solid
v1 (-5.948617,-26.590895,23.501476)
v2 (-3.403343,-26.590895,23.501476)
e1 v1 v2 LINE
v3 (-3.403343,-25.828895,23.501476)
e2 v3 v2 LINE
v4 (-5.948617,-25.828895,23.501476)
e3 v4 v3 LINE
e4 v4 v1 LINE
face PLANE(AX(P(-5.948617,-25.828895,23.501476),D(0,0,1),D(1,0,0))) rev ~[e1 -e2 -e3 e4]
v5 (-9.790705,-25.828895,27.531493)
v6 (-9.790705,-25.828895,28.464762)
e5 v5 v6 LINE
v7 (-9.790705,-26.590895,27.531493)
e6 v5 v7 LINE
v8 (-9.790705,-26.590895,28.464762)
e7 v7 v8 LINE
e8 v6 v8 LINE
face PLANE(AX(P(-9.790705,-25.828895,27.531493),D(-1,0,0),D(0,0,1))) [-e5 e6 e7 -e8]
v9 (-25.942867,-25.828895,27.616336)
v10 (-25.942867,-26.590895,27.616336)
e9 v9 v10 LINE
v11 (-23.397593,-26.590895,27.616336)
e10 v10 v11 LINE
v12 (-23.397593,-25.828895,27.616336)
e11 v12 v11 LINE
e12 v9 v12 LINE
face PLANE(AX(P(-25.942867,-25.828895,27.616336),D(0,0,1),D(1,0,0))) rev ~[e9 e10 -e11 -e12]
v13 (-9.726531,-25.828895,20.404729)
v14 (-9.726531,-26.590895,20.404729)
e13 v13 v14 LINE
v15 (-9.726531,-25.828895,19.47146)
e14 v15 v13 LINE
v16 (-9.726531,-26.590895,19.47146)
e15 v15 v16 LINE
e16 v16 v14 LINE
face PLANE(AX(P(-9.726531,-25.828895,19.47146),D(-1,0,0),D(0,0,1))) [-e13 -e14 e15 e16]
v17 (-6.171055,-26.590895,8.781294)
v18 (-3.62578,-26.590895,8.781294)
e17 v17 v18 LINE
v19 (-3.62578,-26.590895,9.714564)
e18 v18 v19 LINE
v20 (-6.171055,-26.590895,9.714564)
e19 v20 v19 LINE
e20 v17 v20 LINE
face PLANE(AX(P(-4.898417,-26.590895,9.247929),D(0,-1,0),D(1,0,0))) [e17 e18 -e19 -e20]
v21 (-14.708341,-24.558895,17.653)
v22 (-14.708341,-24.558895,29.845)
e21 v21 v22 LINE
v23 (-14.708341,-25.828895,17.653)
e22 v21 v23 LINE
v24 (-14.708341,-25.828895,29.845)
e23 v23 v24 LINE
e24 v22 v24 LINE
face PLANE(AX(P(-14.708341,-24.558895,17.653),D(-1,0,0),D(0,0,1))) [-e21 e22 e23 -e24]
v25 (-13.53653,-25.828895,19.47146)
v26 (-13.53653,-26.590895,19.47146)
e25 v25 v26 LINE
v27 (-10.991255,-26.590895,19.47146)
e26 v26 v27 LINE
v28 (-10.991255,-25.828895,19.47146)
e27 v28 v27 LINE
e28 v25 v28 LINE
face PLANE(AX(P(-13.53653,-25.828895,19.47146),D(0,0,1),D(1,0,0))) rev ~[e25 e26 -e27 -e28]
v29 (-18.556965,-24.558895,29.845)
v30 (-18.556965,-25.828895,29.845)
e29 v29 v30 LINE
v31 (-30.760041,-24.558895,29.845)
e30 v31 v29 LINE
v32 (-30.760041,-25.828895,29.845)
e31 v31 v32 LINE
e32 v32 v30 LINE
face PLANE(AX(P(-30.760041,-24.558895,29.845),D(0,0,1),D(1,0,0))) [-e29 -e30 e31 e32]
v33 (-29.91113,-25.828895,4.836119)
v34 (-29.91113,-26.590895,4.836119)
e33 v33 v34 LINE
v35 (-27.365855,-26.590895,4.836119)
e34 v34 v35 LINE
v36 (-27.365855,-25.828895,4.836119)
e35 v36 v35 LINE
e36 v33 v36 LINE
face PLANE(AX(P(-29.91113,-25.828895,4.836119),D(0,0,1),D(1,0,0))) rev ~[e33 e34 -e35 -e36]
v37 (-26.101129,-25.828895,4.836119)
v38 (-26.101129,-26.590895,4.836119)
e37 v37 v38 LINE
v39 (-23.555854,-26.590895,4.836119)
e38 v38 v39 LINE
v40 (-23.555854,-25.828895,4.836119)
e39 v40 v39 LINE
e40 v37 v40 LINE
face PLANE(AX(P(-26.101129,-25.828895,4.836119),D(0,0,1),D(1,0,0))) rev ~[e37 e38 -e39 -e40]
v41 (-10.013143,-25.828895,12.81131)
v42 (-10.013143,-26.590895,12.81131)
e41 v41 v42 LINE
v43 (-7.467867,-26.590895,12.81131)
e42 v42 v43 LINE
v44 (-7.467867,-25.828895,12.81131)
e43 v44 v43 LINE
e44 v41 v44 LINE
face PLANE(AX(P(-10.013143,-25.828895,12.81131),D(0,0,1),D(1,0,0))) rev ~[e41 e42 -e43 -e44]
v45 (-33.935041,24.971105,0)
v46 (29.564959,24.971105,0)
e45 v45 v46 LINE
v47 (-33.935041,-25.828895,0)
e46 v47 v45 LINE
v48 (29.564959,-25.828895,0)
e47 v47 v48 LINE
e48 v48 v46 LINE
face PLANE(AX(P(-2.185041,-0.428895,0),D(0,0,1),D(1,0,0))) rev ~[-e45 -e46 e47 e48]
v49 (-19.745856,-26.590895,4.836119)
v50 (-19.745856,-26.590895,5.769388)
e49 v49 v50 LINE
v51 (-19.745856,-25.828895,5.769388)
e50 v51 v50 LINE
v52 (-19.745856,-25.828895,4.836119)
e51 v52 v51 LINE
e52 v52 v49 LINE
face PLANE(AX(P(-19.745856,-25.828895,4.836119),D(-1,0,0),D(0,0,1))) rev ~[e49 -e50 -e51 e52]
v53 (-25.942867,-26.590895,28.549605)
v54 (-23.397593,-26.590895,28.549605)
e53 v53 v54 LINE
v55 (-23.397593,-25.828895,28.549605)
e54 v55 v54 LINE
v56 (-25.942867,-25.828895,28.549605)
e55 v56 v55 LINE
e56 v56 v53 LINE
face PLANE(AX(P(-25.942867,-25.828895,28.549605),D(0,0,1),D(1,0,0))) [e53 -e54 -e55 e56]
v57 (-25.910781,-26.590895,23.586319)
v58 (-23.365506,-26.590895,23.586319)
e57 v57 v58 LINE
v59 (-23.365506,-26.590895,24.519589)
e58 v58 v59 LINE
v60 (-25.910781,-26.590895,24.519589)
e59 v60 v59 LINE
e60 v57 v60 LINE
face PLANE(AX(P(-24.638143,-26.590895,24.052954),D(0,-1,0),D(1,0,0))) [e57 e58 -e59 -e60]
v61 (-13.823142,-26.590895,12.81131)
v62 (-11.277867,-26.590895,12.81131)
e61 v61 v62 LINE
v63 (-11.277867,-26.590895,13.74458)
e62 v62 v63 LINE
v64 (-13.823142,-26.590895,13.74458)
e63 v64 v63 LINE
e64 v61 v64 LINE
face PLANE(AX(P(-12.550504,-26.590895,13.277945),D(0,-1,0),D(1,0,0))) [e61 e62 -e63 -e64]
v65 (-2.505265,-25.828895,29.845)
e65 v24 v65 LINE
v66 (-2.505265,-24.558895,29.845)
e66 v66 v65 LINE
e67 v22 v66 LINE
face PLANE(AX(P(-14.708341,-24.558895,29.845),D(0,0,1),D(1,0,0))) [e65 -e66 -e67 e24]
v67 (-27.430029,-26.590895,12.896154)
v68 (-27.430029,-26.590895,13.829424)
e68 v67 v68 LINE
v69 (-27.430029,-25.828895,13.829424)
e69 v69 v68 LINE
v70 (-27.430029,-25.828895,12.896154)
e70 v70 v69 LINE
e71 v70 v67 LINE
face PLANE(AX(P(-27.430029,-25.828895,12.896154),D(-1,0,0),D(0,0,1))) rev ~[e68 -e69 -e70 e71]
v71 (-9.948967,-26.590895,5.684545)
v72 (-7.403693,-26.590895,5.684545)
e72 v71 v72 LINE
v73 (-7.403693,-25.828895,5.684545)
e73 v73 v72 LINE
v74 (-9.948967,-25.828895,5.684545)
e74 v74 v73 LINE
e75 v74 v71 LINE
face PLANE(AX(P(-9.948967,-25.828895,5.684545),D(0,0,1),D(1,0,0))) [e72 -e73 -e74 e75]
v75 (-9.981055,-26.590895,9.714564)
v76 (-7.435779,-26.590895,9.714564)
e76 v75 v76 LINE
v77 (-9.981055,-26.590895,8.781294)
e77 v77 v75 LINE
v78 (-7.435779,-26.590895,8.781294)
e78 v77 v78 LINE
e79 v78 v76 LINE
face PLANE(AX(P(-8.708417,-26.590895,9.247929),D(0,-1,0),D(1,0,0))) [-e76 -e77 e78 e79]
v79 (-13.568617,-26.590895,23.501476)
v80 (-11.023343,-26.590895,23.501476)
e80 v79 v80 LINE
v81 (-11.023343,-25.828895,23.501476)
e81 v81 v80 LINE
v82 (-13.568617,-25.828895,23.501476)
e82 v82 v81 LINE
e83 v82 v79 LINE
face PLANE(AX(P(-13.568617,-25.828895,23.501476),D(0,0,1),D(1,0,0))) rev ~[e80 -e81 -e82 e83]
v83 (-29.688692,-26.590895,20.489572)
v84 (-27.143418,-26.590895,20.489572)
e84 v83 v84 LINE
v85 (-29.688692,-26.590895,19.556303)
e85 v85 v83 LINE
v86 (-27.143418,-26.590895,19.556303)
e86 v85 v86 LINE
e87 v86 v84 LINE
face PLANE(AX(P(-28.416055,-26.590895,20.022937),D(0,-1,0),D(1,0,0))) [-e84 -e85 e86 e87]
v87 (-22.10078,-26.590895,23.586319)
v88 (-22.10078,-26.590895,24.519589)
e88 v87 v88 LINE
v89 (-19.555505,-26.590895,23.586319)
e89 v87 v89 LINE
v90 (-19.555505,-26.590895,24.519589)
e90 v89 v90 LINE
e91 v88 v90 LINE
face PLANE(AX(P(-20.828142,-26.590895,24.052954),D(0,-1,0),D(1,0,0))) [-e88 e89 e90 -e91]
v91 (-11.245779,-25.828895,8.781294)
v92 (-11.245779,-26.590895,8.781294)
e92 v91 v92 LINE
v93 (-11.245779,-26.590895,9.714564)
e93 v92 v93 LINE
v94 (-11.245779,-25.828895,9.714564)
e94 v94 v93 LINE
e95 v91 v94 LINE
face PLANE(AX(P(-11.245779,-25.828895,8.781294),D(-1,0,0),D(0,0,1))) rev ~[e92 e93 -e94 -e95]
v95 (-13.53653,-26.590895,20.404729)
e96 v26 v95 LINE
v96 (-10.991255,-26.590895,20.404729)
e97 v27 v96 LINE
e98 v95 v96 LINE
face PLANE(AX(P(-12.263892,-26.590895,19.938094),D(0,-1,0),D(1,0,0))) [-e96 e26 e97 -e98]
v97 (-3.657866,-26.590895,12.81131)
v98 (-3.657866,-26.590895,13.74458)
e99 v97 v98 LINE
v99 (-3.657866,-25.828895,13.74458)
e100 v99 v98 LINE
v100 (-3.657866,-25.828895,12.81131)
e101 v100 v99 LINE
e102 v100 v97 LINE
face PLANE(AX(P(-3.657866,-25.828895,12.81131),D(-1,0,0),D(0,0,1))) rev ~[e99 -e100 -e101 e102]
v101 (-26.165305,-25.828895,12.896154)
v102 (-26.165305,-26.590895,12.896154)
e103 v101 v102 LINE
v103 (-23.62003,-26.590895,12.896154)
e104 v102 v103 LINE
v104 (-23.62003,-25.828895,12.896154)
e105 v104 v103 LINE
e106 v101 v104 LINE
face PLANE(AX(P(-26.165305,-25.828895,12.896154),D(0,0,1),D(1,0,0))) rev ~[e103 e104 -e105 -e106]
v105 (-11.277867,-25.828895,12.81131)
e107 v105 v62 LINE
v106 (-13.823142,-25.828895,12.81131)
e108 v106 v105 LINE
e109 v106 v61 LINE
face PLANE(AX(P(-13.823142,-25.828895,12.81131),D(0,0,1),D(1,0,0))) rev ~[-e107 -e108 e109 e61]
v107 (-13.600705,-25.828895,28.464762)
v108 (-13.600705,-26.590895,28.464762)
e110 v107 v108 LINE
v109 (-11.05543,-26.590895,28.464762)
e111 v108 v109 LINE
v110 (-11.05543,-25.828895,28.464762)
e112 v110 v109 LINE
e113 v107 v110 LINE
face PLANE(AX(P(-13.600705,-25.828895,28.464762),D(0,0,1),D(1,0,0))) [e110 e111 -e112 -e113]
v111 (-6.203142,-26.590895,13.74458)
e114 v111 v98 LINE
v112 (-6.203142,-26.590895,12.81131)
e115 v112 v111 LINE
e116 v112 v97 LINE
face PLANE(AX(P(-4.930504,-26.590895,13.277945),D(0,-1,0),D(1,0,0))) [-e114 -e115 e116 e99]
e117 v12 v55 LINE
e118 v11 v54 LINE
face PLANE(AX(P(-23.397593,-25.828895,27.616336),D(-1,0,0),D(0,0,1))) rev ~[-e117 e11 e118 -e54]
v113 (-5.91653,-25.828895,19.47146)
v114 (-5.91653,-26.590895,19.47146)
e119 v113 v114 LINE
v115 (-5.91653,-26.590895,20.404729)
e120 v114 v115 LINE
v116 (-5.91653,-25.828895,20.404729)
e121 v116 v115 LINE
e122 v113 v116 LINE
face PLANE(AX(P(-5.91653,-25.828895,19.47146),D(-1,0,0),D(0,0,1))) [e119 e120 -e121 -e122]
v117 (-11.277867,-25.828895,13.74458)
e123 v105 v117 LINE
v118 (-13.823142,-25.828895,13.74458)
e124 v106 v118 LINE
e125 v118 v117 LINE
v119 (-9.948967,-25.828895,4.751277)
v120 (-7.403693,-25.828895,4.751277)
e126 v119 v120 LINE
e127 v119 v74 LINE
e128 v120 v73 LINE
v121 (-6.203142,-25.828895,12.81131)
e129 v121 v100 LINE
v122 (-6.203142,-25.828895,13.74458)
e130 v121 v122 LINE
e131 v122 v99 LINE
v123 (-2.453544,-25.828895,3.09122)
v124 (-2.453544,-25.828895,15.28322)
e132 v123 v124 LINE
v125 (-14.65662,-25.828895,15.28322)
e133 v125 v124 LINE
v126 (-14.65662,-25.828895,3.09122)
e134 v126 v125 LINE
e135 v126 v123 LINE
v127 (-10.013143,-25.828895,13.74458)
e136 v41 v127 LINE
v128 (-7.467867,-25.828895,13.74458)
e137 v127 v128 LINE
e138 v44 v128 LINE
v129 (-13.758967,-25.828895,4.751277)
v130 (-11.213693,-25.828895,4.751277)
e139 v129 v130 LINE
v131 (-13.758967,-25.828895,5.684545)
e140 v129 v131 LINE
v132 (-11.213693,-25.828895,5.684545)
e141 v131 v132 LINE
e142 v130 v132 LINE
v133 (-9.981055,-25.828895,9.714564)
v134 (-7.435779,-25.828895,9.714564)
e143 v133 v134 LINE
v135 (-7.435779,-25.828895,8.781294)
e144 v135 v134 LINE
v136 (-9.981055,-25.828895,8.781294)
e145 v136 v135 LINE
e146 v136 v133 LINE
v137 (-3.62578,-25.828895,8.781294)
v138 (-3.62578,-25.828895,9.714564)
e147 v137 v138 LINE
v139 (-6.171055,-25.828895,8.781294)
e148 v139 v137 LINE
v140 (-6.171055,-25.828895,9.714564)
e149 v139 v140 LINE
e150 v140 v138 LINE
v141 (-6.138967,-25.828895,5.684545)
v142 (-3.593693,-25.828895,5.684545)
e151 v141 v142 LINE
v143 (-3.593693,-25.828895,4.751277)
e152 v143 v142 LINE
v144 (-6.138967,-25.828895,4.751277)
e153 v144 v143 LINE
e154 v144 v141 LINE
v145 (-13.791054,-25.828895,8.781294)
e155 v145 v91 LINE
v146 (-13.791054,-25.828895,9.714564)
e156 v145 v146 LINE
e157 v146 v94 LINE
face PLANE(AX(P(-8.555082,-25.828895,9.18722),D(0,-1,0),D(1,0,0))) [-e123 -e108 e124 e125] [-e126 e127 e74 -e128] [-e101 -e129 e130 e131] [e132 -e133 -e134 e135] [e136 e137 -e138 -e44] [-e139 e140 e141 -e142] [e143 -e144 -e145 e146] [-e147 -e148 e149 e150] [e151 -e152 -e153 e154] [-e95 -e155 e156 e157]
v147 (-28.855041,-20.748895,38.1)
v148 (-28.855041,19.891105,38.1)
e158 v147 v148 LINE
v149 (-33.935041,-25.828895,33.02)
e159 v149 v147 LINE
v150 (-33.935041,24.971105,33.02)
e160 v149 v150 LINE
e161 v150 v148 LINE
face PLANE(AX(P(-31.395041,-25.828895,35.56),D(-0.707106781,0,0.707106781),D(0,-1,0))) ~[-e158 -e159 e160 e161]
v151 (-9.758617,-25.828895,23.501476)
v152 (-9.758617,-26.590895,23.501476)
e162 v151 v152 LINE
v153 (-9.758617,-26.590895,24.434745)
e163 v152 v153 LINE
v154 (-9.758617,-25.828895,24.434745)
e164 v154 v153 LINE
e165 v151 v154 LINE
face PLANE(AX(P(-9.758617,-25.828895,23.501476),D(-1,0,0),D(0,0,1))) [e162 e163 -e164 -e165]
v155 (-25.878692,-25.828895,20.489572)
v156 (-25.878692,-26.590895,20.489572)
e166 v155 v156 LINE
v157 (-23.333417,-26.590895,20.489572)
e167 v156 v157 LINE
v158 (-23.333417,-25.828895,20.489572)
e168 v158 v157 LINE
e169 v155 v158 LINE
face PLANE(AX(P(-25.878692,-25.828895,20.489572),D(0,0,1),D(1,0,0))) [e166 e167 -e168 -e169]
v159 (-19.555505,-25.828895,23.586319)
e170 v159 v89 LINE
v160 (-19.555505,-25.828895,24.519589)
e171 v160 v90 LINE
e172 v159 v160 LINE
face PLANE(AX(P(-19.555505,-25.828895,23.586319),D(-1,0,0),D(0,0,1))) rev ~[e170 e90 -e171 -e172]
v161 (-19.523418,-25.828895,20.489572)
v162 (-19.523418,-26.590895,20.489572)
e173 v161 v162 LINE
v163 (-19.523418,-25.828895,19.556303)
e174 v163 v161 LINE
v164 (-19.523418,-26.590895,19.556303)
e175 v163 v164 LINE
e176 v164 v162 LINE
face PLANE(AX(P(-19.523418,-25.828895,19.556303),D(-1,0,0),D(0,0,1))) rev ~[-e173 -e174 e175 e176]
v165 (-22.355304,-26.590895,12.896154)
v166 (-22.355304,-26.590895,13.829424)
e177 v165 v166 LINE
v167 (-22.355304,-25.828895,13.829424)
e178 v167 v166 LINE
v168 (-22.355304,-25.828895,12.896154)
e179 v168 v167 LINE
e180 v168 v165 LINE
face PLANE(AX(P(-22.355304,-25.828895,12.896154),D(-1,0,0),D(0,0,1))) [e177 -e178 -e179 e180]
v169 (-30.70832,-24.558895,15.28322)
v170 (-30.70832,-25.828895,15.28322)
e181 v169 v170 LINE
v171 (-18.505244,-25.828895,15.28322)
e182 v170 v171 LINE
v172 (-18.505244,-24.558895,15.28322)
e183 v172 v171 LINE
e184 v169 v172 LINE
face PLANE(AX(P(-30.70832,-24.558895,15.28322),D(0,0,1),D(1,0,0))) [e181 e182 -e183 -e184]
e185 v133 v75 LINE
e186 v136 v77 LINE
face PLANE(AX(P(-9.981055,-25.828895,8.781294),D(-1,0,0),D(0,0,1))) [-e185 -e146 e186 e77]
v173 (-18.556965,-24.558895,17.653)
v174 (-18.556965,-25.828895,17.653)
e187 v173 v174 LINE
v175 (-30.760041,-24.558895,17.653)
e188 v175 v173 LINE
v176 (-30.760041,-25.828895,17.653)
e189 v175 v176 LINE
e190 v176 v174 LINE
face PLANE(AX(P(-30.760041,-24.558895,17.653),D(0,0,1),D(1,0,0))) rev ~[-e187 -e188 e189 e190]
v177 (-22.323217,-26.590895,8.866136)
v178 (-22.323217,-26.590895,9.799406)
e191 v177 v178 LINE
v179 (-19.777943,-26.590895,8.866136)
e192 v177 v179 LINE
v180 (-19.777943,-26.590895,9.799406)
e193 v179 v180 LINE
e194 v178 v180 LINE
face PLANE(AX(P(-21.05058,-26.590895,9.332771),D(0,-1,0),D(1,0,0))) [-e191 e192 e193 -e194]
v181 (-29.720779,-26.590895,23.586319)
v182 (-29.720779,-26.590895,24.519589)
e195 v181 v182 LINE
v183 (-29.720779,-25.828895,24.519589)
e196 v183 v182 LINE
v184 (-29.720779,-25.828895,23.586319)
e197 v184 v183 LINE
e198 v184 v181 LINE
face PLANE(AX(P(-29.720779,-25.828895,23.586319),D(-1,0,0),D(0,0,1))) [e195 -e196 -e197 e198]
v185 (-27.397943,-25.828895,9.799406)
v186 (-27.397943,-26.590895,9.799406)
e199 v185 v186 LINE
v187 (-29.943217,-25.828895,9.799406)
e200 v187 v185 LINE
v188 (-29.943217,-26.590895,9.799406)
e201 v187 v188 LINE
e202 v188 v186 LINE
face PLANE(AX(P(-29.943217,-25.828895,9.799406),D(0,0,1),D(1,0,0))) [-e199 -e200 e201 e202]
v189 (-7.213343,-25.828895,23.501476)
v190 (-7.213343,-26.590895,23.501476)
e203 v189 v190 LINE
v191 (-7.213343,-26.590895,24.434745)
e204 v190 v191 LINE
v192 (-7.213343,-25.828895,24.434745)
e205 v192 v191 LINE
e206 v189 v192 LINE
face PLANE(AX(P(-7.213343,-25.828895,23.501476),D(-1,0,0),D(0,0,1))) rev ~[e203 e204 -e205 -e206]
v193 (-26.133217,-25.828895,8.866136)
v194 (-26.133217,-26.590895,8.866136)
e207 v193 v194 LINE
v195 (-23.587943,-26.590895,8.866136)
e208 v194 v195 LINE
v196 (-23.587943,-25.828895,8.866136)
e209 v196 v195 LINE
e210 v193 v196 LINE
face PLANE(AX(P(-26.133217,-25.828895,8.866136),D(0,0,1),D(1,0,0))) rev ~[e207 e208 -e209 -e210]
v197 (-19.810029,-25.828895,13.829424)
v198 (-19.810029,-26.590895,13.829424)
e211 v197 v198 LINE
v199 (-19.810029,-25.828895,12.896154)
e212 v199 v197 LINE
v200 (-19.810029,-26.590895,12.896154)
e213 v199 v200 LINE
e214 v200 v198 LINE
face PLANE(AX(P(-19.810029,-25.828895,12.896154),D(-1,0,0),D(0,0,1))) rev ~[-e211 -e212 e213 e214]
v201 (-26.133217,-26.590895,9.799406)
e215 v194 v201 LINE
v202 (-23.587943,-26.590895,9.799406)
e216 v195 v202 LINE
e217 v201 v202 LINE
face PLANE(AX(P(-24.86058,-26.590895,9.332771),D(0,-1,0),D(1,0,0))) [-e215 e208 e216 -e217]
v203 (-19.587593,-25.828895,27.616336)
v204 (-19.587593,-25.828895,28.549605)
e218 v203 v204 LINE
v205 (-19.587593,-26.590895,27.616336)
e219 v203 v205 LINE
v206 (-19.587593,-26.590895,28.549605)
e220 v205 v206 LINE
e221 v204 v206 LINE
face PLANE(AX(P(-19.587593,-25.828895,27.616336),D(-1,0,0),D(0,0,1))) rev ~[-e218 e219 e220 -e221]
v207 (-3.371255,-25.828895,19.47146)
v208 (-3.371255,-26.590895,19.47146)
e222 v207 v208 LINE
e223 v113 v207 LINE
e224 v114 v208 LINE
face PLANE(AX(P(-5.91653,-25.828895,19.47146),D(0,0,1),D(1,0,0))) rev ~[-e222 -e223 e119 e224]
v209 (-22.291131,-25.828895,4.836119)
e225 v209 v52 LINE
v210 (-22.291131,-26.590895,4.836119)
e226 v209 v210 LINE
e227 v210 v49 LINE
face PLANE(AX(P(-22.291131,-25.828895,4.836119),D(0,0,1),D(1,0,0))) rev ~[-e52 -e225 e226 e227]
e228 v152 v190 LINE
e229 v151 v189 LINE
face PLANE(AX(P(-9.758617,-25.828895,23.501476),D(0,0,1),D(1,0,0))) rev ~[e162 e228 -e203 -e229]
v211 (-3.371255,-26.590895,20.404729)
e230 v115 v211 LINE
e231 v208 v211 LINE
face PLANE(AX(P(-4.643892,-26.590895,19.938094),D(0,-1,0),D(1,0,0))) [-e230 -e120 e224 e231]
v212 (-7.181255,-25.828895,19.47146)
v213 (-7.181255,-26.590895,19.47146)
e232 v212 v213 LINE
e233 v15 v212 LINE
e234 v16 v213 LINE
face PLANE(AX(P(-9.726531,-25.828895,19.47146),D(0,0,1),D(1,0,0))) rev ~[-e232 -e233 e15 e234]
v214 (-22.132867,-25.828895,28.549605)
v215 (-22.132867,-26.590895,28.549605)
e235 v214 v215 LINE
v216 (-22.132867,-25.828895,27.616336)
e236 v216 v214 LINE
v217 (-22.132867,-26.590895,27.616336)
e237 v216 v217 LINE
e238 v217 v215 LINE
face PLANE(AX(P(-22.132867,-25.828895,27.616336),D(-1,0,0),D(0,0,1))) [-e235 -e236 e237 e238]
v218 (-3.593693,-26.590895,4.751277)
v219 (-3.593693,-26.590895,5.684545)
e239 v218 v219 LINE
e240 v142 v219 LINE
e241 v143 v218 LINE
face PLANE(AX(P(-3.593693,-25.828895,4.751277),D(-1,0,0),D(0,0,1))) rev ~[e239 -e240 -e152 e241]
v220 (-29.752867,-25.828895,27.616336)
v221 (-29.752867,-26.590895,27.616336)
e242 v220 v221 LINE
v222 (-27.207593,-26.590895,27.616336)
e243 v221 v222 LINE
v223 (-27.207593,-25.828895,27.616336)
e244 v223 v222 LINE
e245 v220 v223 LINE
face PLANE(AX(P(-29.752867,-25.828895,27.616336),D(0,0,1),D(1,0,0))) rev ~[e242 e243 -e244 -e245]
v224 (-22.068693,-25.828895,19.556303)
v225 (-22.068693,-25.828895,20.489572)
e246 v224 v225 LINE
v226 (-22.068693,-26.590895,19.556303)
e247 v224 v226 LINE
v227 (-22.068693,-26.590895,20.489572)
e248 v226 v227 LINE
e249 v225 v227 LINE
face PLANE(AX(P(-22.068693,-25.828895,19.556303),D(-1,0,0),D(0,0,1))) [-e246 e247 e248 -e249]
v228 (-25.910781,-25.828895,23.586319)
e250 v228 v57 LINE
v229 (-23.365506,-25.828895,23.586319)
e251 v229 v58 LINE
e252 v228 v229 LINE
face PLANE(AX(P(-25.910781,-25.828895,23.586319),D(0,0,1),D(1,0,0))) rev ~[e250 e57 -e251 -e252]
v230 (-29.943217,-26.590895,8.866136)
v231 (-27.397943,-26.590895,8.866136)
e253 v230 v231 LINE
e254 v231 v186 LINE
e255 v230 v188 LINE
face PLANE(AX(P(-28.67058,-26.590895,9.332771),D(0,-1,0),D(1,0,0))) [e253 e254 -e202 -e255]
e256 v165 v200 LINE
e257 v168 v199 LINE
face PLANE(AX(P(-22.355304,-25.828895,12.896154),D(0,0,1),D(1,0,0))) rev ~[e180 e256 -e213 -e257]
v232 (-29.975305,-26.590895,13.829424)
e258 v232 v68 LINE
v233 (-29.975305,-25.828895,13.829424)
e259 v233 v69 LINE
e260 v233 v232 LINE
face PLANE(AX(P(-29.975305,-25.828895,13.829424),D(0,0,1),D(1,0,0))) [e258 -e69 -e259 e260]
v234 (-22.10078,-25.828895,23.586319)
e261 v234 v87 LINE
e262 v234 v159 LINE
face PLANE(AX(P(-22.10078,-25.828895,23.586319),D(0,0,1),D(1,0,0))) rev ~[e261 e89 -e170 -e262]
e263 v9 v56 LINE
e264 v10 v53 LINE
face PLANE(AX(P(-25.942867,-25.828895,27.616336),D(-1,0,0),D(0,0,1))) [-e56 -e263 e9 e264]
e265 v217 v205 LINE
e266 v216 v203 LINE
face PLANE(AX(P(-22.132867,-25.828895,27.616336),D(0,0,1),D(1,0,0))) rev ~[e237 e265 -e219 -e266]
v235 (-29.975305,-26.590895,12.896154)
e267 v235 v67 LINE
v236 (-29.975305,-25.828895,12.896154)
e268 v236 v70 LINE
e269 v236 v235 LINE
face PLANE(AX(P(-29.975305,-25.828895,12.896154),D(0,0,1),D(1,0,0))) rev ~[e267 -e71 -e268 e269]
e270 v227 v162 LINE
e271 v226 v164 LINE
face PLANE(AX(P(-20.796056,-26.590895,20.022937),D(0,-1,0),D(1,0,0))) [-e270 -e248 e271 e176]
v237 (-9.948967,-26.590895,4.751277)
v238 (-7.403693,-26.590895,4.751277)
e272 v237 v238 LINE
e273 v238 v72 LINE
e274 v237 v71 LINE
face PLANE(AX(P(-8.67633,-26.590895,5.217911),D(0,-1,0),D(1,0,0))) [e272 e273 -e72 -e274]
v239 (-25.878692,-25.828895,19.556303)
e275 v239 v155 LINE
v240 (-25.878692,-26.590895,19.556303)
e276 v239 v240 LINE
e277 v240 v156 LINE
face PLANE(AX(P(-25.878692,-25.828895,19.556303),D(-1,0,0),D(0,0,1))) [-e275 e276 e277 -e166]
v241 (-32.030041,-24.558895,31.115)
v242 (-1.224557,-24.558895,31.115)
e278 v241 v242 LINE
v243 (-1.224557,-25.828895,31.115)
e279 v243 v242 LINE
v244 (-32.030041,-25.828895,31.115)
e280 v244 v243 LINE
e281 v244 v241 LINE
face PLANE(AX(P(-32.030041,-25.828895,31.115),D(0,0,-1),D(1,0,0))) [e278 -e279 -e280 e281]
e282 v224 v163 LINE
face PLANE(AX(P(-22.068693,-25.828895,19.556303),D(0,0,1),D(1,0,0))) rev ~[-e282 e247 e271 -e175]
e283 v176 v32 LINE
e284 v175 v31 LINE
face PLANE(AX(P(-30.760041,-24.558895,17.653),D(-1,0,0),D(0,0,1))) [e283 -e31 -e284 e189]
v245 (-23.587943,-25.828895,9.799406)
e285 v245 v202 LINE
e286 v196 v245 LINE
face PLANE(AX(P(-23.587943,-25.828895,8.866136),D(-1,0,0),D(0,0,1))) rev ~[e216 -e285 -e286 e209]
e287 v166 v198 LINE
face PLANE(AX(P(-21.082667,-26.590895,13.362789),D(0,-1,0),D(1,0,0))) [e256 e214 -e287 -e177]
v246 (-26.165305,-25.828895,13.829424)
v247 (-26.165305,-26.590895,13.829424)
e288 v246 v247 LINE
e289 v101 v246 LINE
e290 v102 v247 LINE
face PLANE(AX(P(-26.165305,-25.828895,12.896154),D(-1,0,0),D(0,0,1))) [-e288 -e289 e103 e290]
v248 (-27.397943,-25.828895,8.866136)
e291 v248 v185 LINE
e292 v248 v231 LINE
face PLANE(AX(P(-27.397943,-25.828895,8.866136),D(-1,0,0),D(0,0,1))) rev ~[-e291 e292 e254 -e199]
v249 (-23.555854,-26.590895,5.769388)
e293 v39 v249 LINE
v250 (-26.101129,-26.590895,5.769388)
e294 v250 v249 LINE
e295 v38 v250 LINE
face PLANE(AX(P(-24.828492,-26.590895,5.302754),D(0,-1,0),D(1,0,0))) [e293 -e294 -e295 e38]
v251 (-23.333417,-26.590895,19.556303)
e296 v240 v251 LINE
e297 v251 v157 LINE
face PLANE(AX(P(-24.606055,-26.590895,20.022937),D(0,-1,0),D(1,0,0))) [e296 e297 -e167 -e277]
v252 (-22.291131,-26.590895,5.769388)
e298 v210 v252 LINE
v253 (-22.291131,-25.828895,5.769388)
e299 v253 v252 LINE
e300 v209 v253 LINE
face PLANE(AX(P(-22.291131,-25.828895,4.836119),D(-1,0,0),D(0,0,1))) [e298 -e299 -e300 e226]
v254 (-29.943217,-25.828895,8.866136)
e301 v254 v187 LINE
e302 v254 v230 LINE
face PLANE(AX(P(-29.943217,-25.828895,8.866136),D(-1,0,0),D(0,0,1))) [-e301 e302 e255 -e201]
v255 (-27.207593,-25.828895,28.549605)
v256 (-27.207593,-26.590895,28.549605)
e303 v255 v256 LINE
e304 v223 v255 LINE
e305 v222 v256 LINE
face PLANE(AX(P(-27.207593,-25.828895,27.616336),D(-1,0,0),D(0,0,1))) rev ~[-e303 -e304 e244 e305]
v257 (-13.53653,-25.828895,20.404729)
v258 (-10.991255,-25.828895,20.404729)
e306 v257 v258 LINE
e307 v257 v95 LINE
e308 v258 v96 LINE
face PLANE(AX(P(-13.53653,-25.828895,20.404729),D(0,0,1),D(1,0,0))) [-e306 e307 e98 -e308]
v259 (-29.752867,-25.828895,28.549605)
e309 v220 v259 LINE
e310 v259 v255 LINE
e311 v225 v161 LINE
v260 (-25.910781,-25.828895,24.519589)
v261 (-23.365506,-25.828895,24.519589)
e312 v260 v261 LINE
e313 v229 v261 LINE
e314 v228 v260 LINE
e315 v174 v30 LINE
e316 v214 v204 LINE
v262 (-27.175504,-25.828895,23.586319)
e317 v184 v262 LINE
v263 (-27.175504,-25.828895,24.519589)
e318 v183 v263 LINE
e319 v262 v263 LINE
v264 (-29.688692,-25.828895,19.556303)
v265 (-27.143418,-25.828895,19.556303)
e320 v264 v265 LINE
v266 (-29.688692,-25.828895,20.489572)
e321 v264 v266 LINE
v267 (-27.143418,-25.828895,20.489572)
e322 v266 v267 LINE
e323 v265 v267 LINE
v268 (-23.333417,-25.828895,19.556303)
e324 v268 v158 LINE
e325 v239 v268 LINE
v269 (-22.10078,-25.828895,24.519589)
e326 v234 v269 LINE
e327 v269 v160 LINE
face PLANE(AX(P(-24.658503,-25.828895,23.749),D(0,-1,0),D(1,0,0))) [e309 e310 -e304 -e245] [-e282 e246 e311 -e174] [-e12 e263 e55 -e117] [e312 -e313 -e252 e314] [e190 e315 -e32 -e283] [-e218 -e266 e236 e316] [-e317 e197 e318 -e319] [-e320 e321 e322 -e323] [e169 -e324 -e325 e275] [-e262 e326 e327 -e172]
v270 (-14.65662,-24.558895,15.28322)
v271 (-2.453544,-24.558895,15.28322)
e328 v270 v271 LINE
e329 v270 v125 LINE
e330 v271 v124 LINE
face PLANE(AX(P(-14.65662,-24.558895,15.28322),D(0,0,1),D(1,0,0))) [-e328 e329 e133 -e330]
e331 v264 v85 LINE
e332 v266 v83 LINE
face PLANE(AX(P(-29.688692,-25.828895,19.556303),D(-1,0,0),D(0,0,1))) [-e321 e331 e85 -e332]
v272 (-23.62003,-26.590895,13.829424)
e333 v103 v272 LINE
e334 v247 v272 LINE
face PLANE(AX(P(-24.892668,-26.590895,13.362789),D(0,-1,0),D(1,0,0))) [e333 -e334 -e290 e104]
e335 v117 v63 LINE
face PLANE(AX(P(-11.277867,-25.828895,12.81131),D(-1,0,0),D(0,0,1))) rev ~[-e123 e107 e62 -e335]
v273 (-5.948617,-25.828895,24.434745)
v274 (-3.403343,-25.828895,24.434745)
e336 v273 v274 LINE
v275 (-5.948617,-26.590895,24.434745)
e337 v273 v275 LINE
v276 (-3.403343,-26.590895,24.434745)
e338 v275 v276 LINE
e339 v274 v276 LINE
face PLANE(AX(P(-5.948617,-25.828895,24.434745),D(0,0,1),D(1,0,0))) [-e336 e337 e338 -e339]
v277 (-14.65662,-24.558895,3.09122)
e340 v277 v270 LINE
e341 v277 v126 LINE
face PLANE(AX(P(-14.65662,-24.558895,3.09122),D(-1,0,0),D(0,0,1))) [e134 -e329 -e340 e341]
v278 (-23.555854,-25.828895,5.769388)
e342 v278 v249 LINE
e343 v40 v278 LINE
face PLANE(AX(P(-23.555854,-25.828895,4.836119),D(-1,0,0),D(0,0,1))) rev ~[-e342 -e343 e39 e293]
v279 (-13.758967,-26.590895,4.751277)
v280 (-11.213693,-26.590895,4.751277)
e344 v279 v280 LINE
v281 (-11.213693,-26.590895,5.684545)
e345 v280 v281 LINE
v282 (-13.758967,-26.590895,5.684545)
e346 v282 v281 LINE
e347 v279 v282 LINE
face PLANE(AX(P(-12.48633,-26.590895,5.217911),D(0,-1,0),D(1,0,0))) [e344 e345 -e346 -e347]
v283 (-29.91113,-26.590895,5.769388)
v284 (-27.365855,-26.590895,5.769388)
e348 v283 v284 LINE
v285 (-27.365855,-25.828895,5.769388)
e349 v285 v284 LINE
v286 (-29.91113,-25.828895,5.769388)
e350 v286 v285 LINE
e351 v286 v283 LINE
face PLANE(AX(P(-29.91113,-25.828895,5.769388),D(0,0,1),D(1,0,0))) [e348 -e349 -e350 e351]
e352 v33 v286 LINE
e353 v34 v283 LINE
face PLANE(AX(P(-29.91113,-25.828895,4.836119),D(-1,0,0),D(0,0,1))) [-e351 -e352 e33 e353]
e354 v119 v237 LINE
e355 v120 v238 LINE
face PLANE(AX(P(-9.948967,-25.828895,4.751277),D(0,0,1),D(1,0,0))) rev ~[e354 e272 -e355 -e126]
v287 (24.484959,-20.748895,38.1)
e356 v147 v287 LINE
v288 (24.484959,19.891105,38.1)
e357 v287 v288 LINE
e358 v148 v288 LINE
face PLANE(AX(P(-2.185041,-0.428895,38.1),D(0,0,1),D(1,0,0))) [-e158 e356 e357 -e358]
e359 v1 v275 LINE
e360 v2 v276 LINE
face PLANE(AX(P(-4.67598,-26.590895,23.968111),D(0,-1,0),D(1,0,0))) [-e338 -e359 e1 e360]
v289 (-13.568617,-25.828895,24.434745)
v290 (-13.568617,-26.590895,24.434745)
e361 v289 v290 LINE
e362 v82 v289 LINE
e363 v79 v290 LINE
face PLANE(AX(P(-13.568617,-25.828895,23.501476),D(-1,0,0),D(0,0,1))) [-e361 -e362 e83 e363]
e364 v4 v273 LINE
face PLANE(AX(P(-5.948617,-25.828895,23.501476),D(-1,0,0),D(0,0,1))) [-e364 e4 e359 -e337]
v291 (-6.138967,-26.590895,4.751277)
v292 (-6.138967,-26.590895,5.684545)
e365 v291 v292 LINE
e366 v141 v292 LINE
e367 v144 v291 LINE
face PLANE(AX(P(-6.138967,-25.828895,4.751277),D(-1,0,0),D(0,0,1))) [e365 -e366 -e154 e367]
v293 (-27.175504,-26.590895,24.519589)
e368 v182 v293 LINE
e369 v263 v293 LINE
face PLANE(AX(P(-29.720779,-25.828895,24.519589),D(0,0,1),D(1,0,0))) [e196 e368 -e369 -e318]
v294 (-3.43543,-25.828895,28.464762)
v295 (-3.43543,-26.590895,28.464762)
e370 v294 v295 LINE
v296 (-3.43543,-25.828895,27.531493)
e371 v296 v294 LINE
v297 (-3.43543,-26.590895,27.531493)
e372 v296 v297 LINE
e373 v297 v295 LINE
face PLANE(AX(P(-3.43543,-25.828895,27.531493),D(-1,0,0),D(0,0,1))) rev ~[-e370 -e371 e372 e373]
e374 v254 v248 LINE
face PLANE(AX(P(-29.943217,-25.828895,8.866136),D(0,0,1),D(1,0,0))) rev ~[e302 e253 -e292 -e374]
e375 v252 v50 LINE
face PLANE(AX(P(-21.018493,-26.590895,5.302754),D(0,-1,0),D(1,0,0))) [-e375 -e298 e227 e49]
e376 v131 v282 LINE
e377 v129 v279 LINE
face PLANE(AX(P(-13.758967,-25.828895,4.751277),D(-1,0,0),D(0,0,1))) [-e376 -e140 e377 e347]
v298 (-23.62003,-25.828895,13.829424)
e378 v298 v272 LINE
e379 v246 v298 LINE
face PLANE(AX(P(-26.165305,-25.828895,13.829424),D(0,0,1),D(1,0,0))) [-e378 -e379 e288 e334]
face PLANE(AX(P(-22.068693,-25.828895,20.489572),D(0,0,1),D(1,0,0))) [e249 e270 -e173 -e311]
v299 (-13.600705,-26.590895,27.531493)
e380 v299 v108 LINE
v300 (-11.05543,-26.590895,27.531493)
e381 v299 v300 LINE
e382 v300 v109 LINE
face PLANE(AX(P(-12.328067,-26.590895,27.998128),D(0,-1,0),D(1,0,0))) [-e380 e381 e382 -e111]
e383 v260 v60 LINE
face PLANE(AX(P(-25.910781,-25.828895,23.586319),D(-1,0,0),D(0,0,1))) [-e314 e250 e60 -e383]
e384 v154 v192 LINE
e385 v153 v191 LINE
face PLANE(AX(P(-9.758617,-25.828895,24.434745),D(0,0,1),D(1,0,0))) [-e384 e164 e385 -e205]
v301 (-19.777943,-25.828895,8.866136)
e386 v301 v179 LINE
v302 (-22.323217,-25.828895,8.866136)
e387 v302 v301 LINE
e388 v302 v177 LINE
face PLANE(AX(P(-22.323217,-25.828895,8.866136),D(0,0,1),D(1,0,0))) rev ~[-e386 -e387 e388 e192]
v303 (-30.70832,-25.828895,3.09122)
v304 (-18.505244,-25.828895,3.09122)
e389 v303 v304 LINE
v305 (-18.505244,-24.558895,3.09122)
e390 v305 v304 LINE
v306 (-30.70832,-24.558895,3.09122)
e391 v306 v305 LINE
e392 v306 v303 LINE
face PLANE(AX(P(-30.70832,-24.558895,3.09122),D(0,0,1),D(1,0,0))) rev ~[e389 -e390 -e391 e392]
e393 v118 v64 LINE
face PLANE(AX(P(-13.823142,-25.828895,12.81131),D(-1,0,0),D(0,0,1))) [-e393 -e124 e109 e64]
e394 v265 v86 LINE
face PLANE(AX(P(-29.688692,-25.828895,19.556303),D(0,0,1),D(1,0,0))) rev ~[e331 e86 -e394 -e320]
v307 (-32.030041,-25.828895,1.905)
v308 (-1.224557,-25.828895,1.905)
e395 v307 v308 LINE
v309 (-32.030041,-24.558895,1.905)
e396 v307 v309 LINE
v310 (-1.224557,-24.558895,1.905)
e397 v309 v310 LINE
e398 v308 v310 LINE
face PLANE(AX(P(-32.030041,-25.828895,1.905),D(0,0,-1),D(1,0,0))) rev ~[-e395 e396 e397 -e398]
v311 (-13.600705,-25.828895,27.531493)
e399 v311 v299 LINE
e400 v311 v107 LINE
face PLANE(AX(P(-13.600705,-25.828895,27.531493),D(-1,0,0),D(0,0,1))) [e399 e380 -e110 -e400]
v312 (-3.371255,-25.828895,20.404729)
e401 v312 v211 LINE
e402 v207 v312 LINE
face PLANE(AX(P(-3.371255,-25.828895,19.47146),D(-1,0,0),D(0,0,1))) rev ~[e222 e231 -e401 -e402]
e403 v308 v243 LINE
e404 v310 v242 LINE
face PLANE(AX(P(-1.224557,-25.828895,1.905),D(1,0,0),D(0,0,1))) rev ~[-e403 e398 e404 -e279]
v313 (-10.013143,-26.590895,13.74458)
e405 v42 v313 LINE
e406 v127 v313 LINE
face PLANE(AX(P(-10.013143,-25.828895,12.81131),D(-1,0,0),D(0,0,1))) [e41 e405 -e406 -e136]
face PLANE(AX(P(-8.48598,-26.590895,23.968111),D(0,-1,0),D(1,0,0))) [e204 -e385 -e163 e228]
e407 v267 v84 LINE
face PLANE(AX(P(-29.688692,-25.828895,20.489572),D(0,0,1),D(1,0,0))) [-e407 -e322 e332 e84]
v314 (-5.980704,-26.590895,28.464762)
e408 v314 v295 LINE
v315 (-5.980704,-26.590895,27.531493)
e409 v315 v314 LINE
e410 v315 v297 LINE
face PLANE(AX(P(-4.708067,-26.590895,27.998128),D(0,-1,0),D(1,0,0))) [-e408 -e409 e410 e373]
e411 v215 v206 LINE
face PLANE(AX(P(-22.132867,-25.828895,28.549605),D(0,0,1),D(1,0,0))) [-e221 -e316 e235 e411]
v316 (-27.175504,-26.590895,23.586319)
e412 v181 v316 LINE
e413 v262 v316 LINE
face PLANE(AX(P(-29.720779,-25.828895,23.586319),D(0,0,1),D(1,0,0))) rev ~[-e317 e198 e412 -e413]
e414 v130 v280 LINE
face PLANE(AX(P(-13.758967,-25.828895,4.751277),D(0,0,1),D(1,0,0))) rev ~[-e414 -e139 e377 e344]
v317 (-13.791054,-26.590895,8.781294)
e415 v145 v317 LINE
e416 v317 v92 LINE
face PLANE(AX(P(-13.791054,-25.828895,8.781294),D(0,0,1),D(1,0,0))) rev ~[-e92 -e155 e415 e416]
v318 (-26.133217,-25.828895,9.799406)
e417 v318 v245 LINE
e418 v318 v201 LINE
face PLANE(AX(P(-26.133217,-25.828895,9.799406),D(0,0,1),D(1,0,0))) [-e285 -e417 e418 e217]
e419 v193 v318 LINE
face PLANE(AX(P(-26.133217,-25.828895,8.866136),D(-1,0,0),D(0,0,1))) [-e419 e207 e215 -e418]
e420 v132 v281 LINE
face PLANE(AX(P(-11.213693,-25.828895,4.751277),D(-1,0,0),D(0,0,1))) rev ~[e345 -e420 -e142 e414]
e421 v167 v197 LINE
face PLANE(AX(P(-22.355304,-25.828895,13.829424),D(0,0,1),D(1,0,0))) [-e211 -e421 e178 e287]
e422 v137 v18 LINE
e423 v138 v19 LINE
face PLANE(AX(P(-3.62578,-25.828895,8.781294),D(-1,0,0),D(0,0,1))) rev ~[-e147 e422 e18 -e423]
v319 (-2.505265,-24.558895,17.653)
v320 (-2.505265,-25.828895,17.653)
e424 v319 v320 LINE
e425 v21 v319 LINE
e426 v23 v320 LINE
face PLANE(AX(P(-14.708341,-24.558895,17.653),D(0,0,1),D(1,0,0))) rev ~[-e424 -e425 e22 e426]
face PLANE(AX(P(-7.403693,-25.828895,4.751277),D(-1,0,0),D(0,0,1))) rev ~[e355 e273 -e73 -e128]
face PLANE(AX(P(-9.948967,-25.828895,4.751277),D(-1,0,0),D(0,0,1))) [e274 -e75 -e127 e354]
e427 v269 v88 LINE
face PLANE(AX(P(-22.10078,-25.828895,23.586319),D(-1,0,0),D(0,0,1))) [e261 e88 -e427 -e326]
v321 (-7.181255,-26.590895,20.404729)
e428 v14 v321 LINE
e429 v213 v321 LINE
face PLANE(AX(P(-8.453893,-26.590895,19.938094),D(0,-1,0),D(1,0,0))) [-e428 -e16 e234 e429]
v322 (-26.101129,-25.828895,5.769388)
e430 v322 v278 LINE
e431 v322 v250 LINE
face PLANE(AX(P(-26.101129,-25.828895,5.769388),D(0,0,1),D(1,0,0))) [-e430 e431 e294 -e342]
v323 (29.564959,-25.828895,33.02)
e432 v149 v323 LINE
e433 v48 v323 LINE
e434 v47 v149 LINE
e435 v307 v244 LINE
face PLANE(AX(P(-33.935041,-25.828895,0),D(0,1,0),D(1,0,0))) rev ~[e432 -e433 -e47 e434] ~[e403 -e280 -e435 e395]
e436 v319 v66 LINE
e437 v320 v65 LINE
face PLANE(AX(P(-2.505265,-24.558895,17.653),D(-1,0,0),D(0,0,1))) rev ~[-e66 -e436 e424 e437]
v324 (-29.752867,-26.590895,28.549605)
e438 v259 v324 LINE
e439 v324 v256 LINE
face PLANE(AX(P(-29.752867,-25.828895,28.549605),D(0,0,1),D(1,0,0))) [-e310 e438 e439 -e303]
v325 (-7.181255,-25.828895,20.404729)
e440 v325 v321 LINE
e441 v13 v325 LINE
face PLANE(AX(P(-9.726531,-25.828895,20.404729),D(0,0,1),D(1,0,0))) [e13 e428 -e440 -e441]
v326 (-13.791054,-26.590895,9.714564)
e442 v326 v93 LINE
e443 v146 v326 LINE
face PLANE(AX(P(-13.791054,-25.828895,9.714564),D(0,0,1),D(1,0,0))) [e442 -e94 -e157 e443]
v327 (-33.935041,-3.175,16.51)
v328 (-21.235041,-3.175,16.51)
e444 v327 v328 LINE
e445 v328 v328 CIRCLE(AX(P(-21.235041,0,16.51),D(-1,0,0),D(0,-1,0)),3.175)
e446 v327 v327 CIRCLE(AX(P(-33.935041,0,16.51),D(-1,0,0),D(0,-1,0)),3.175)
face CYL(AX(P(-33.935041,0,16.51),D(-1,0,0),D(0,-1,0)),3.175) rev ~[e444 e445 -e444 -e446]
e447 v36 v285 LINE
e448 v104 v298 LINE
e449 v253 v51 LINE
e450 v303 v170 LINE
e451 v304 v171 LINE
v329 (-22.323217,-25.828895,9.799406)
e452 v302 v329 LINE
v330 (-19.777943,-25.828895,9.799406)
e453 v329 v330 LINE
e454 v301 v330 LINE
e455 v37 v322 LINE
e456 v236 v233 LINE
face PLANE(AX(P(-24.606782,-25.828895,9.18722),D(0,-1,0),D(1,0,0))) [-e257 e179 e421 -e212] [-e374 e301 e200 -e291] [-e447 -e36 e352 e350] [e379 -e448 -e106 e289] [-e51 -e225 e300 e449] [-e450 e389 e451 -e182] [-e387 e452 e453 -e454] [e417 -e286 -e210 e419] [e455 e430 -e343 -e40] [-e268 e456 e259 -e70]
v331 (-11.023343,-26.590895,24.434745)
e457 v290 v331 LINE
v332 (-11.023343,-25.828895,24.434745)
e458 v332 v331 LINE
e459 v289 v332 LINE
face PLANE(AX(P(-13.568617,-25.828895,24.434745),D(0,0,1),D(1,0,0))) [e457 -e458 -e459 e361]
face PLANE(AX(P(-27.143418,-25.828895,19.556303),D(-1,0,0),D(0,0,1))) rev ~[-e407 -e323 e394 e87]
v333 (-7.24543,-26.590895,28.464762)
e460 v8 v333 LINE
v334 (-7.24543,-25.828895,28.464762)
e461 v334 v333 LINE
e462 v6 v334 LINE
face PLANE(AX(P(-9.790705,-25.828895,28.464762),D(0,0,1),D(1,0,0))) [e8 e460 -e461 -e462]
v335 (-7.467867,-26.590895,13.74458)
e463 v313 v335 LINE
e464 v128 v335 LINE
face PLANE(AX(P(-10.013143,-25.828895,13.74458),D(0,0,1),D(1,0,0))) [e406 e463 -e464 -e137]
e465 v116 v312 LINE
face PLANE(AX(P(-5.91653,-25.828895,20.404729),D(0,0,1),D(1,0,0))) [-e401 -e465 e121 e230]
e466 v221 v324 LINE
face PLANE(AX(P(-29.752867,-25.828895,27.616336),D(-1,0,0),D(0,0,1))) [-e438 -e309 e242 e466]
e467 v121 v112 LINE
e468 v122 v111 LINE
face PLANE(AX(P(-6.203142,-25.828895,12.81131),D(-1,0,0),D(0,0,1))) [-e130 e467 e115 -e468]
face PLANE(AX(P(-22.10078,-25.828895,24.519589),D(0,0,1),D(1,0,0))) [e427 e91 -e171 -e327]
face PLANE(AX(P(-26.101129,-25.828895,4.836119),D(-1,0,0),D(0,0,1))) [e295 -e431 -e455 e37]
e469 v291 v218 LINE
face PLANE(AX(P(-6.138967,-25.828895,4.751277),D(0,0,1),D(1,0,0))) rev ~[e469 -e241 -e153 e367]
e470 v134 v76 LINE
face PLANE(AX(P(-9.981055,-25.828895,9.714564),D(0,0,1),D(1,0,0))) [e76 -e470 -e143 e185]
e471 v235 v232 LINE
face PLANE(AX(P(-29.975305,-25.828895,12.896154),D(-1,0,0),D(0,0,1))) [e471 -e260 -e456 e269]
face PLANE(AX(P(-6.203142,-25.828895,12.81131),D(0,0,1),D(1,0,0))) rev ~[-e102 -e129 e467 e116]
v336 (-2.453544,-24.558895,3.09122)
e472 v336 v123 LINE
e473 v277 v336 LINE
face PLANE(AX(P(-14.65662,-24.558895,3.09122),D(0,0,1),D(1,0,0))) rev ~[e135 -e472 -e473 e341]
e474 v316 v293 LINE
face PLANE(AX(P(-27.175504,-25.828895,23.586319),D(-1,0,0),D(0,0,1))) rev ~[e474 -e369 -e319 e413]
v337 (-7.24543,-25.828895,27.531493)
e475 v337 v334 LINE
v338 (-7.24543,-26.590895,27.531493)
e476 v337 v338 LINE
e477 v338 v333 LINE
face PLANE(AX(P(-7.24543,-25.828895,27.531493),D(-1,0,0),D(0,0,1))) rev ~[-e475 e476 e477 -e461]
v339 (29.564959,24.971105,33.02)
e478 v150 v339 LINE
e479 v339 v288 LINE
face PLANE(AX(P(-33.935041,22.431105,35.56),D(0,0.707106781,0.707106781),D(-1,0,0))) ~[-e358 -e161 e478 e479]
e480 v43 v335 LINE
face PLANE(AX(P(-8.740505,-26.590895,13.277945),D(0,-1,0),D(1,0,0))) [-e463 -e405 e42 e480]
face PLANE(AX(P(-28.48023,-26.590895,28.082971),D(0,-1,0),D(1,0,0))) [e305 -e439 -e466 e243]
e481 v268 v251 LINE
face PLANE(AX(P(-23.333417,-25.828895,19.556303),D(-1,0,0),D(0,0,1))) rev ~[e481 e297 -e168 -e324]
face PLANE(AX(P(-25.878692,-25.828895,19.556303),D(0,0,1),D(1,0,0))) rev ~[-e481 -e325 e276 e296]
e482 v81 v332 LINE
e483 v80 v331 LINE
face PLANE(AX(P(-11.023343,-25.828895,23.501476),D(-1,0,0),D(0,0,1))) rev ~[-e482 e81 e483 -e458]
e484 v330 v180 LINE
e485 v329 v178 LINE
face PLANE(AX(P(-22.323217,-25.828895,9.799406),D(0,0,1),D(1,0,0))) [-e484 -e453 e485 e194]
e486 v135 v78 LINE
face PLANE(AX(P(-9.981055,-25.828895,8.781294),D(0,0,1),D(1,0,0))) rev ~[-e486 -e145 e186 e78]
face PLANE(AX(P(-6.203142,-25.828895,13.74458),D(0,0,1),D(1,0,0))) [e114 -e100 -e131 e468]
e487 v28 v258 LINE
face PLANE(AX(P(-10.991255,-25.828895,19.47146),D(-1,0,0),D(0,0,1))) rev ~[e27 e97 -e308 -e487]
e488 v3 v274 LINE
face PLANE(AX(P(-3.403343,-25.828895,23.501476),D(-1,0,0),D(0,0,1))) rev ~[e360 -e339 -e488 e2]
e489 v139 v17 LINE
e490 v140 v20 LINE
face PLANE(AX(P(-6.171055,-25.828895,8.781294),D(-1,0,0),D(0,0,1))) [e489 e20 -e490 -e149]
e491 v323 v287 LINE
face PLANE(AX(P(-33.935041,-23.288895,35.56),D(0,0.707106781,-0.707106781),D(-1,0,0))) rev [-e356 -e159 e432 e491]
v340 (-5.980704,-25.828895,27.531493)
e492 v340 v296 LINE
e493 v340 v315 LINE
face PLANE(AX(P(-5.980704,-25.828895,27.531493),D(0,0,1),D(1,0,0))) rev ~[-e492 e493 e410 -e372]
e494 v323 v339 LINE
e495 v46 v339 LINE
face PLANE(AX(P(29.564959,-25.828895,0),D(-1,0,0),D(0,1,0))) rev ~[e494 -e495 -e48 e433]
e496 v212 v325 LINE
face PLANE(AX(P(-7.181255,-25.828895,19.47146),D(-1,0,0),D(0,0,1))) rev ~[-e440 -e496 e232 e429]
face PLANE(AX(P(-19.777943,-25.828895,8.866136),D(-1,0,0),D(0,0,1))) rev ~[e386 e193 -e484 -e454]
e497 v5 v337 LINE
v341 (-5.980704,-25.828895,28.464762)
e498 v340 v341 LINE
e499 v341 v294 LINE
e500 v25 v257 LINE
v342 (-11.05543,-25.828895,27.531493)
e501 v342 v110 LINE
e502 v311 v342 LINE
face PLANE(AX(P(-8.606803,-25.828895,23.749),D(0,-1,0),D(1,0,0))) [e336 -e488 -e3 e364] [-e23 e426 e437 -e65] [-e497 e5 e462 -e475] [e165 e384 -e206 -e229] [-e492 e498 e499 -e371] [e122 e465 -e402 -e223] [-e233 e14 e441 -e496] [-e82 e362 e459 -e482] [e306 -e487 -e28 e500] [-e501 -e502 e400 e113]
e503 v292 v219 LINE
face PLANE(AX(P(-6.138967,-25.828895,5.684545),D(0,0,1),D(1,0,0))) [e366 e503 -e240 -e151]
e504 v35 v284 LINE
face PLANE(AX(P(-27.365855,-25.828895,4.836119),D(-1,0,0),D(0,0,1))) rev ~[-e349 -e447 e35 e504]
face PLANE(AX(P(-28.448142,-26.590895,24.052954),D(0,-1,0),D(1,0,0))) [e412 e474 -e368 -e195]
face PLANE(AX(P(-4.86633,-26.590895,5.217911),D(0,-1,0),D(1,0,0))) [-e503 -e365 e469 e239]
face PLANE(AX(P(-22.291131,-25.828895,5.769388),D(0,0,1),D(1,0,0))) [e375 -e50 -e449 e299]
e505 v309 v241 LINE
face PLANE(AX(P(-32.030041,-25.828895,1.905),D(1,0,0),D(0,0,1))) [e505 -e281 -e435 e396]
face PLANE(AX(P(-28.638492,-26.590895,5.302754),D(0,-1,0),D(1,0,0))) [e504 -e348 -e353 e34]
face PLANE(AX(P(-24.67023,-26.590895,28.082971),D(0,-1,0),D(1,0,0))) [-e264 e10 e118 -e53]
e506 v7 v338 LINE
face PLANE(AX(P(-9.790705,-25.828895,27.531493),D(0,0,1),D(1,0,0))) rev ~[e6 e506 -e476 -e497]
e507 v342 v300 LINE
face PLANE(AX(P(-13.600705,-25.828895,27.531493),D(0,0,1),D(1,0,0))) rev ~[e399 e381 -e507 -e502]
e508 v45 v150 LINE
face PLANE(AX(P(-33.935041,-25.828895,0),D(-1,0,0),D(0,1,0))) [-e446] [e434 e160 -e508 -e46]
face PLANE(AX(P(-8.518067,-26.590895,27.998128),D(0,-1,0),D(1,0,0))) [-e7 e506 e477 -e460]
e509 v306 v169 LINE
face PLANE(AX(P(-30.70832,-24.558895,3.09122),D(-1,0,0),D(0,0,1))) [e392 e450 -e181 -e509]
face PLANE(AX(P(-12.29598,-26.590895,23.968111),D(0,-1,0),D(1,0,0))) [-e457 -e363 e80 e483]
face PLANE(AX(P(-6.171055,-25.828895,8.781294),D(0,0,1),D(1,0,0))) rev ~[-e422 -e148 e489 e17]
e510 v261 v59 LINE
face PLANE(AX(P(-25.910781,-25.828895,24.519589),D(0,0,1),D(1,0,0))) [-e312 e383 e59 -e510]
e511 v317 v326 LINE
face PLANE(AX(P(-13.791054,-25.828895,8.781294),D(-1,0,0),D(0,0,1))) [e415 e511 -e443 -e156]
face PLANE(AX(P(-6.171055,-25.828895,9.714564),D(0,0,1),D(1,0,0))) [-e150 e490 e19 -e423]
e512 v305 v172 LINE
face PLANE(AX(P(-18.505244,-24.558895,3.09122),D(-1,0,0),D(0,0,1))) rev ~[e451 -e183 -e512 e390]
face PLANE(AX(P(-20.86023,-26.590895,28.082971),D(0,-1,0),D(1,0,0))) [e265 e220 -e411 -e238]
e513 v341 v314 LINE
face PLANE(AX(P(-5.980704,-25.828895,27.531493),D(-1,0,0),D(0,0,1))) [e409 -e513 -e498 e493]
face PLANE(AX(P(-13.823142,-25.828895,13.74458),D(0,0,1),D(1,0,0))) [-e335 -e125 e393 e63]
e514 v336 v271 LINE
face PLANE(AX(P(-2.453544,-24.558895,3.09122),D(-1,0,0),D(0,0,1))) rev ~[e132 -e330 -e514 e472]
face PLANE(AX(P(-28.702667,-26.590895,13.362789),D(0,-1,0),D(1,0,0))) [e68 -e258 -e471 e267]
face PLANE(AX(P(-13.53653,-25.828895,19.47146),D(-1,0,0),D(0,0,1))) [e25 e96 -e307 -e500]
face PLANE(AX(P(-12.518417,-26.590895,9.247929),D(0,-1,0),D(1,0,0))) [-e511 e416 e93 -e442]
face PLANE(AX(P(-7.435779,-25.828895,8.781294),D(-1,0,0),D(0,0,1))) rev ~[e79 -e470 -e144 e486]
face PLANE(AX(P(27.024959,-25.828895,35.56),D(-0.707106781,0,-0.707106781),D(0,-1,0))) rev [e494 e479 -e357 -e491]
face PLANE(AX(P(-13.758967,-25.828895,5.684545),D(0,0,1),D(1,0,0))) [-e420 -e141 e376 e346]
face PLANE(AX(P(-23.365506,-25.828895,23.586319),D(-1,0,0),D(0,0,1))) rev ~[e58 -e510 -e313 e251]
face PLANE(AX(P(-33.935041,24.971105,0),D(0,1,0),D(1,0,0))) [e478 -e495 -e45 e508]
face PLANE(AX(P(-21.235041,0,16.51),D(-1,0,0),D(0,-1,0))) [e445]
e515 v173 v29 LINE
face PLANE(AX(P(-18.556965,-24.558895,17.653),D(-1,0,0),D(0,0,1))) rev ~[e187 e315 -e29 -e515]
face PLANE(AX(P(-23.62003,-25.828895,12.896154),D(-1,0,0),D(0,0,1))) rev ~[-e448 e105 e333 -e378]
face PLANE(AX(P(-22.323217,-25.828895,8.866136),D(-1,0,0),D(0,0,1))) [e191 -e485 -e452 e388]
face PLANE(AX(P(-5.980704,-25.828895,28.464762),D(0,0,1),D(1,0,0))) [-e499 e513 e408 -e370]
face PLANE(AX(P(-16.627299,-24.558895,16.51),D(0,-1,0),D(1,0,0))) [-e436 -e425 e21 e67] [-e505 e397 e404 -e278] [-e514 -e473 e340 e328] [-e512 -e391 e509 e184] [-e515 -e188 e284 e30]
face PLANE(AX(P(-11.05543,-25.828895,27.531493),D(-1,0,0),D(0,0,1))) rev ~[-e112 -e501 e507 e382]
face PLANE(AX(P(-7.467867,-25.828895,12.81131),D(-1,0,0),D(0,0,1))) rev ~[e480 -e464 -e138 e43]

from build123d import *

# Parameters (mm, degrees)
F0_W      = 63.5
F0_H      = 50.8
F1_DEPTH  = 38.1
F2_SIZE   = 5.08
F3_R      = 3.175
F4_DEPTH  = 12.7
F5_W      = 30.805484
F5_H      = 29.21
F6_DEPTH  = 1.27
F7_W      = 12.203076
F7_H      = 12.192
F8_DEPTH  = 1.27
F9_W      = 2.545274
F9_H      = 0.933269
F9_W_2    = 2.545275
F10_DEPTH = 0.762


with BuildPart() as f1:
    # F0 (on Top) → F1 (new body)
    with BuildSketch(Plane.XY):
        with Locations((-2.185041, -0.428895)):
            Rectangle(F0_W, F0_H)
    extrude(amount=F1_DEPTH)

    # F2
    f2_edges = [f1.edges().sort_by_distance(p)[0] for p in [
        (-33.935041, -0.428895, 38.1),
        (-2.185041, -25.828895, 38.1),
        (29.564959, -0.428895, 38.1),
        (-2.185041, 24.971105, 38.1),
    ]]
    chamfer(f2_edges, length=F2_SIZE)

    # F3 (on face) → F4 (cut)
    with BuildSketch(Plane(origin=(-33.935041, 0, 0), x_dir=(0, -1, 0), z_dir=(-1, 0, 0))):
        with Locations((0, 16.51)):
            Circle(F3_R)
    extrude(amount=-F4_DEPTH, mode=Mode.SUBTRACT)

    # F5 (on face) → F6 (cut)
    with BuildSketch(Plane.XZ.offset(25.828895)):
        with Locations((-16.627299, 16.51)):
            Rectangle(F5_W, F5_H)
    extrude(amount=-F6_DEPTH, mode=Mode.SUBTRACT)

    # F7 (on face) → F8 (join)
    with BuildSketch(Plane.XZ.offset(24.558895)):
        with Locations((-24.658503, 23.749)):
            Rectangle(F7_W, F7_H)
        with Locations((-8.606803, 23.749)):
            Rectangle(F7_W, F7_H)
        with Locations((-24.606782, 9.18722)):
            Rectangle(F7_W, F7_H)
        with Locations((-8.555082, 9.18722)):
            Rectangle(F7_W, F7_H)
    extrude(amount=F8_DEPTH)

    # F9 (on face) → F10 (join)
    with BuildSketch(Plane.XZ.offset(25.828895)):
        with Locations((-28.48023, 28.082971)):
            Rectangle(F9_W, F9_H)
        with Locations((-24.67023, 28.082971)):
            Rectangle(F9_W, F9_H)
        with Locations((-20.86023, 28.082971)):
            Rectangle(F9_W, F9_H)
        with Locations((-28.448142, 24.052954)):
            Rectangle(F9_W_2, F9_H)
        with Locations((-24.638143, 24.052954)):
            Rectangle(F9_W_2, F9_H)
        with Locations((-20.828142, 24.052954)):
            Rectangle(F9_W_2, F9_H)
        with Locations((-20.796056, 20.022937)):
            Rectangle(F9_W_2, F9_H)
        with Locations((-24.606055, 20.022937)):
            Rectangle(F9_W_2, F9_H)
        with Locations((-28.416055, 20.022937)):
            Rectangle(F9_W_2, F9_H)
        with Locations((-28.702667, 13.362789)):
            Rectangle(F9_W_2, F9_H)
        with Locations((-24.892668, 13.362789)):
            Rectangle(F9_W_2, F9_H)
        with Locations((-21.082667, 13.362789)):
            Rectangle(F9_W_2, F9_H)
        with Locations((-21.05058, 9.332771)):
            Rectangle(F9_W, F9_H)
        with Locations((-24.86058, 9.332771)):
            Rectangle(F9_W, F9_H)
        with Locations((-28.67058, 9.332771)):
            Rectangle(F9_W, F9_H)
        with Locations((-28.638492, 5.302754)):
            Rectangle(F9_W_2, F9_H)
        with Locations((-24.828492, 5.302754)):
            Rectangle(F9_W_2, F9_H)
        with Locations((-21.018493, 5.302754)):
            Rectangle(F9_W_2, F9_H)
        with Locations((-12.518417, 9.247929)):
            Rectangle(F9_W_2, F9_H)
        with Locations((-12.550504, 13.277945)):
            Rectangle(F9_W_2, F9_H)
        with Locations((-8.740505, 13.277945)):
            Rectangle(F9_W_2, F9_H)
        with Locations((-8.708417, 9.247929)):
            Rectangle(F9_W_2, F9_H)
        with Locations((-4.898417, 9.247929)):
            Rectangle(F9_W_2, F9_H)
        with Locations((-4.930504, 13.277945)):
            Rectangle(F9_W_2, F9_H)
        with Locations((-4.86633, 5.217911)):
            Rectangle(F9_W, F9_H)
        with Locations((-8.67633, 5.217911)):
            Rectangle(F9_W, F9_H)
        with Locations((-12.48633, 5.217911)):
            Rectangle(F9_W, F9_H)
        with Locations((-12.328067, 27.998128)):
            Rectangle(F9_W_2, F9_H)
        with Locations((-8.518067, 27.998128)):
            Rectangle(F9_W_2, F9_H)
        with Locations((-4.708067, 27.998128)):
            Rectangle(F9_W_2, F9_H)
        with Locations((-4.67598, 23.968111)):
            Rectangle(F9_W, F9_H)
        with Locations((-8.48598, 23.968111)):
            Rectangle(F9_W, F9_H)
        with Locations((-12.29598, 23.968111)):
            Rectangle(F9_W, F9_H)
        with Locations((-12.263892, 19.938094)):
            Rectangle(F9_W_2, F9_H)
        with Locations((-8.453893, 19.938094)):
            Rectangle(F9_W_2, F9_H)
        with Locations((-4.643892, 19.938094)):
            Rectangle(F9_W_2, F9_H)
    extrude(amount=F10_DEPTH)


solid = f1.part
